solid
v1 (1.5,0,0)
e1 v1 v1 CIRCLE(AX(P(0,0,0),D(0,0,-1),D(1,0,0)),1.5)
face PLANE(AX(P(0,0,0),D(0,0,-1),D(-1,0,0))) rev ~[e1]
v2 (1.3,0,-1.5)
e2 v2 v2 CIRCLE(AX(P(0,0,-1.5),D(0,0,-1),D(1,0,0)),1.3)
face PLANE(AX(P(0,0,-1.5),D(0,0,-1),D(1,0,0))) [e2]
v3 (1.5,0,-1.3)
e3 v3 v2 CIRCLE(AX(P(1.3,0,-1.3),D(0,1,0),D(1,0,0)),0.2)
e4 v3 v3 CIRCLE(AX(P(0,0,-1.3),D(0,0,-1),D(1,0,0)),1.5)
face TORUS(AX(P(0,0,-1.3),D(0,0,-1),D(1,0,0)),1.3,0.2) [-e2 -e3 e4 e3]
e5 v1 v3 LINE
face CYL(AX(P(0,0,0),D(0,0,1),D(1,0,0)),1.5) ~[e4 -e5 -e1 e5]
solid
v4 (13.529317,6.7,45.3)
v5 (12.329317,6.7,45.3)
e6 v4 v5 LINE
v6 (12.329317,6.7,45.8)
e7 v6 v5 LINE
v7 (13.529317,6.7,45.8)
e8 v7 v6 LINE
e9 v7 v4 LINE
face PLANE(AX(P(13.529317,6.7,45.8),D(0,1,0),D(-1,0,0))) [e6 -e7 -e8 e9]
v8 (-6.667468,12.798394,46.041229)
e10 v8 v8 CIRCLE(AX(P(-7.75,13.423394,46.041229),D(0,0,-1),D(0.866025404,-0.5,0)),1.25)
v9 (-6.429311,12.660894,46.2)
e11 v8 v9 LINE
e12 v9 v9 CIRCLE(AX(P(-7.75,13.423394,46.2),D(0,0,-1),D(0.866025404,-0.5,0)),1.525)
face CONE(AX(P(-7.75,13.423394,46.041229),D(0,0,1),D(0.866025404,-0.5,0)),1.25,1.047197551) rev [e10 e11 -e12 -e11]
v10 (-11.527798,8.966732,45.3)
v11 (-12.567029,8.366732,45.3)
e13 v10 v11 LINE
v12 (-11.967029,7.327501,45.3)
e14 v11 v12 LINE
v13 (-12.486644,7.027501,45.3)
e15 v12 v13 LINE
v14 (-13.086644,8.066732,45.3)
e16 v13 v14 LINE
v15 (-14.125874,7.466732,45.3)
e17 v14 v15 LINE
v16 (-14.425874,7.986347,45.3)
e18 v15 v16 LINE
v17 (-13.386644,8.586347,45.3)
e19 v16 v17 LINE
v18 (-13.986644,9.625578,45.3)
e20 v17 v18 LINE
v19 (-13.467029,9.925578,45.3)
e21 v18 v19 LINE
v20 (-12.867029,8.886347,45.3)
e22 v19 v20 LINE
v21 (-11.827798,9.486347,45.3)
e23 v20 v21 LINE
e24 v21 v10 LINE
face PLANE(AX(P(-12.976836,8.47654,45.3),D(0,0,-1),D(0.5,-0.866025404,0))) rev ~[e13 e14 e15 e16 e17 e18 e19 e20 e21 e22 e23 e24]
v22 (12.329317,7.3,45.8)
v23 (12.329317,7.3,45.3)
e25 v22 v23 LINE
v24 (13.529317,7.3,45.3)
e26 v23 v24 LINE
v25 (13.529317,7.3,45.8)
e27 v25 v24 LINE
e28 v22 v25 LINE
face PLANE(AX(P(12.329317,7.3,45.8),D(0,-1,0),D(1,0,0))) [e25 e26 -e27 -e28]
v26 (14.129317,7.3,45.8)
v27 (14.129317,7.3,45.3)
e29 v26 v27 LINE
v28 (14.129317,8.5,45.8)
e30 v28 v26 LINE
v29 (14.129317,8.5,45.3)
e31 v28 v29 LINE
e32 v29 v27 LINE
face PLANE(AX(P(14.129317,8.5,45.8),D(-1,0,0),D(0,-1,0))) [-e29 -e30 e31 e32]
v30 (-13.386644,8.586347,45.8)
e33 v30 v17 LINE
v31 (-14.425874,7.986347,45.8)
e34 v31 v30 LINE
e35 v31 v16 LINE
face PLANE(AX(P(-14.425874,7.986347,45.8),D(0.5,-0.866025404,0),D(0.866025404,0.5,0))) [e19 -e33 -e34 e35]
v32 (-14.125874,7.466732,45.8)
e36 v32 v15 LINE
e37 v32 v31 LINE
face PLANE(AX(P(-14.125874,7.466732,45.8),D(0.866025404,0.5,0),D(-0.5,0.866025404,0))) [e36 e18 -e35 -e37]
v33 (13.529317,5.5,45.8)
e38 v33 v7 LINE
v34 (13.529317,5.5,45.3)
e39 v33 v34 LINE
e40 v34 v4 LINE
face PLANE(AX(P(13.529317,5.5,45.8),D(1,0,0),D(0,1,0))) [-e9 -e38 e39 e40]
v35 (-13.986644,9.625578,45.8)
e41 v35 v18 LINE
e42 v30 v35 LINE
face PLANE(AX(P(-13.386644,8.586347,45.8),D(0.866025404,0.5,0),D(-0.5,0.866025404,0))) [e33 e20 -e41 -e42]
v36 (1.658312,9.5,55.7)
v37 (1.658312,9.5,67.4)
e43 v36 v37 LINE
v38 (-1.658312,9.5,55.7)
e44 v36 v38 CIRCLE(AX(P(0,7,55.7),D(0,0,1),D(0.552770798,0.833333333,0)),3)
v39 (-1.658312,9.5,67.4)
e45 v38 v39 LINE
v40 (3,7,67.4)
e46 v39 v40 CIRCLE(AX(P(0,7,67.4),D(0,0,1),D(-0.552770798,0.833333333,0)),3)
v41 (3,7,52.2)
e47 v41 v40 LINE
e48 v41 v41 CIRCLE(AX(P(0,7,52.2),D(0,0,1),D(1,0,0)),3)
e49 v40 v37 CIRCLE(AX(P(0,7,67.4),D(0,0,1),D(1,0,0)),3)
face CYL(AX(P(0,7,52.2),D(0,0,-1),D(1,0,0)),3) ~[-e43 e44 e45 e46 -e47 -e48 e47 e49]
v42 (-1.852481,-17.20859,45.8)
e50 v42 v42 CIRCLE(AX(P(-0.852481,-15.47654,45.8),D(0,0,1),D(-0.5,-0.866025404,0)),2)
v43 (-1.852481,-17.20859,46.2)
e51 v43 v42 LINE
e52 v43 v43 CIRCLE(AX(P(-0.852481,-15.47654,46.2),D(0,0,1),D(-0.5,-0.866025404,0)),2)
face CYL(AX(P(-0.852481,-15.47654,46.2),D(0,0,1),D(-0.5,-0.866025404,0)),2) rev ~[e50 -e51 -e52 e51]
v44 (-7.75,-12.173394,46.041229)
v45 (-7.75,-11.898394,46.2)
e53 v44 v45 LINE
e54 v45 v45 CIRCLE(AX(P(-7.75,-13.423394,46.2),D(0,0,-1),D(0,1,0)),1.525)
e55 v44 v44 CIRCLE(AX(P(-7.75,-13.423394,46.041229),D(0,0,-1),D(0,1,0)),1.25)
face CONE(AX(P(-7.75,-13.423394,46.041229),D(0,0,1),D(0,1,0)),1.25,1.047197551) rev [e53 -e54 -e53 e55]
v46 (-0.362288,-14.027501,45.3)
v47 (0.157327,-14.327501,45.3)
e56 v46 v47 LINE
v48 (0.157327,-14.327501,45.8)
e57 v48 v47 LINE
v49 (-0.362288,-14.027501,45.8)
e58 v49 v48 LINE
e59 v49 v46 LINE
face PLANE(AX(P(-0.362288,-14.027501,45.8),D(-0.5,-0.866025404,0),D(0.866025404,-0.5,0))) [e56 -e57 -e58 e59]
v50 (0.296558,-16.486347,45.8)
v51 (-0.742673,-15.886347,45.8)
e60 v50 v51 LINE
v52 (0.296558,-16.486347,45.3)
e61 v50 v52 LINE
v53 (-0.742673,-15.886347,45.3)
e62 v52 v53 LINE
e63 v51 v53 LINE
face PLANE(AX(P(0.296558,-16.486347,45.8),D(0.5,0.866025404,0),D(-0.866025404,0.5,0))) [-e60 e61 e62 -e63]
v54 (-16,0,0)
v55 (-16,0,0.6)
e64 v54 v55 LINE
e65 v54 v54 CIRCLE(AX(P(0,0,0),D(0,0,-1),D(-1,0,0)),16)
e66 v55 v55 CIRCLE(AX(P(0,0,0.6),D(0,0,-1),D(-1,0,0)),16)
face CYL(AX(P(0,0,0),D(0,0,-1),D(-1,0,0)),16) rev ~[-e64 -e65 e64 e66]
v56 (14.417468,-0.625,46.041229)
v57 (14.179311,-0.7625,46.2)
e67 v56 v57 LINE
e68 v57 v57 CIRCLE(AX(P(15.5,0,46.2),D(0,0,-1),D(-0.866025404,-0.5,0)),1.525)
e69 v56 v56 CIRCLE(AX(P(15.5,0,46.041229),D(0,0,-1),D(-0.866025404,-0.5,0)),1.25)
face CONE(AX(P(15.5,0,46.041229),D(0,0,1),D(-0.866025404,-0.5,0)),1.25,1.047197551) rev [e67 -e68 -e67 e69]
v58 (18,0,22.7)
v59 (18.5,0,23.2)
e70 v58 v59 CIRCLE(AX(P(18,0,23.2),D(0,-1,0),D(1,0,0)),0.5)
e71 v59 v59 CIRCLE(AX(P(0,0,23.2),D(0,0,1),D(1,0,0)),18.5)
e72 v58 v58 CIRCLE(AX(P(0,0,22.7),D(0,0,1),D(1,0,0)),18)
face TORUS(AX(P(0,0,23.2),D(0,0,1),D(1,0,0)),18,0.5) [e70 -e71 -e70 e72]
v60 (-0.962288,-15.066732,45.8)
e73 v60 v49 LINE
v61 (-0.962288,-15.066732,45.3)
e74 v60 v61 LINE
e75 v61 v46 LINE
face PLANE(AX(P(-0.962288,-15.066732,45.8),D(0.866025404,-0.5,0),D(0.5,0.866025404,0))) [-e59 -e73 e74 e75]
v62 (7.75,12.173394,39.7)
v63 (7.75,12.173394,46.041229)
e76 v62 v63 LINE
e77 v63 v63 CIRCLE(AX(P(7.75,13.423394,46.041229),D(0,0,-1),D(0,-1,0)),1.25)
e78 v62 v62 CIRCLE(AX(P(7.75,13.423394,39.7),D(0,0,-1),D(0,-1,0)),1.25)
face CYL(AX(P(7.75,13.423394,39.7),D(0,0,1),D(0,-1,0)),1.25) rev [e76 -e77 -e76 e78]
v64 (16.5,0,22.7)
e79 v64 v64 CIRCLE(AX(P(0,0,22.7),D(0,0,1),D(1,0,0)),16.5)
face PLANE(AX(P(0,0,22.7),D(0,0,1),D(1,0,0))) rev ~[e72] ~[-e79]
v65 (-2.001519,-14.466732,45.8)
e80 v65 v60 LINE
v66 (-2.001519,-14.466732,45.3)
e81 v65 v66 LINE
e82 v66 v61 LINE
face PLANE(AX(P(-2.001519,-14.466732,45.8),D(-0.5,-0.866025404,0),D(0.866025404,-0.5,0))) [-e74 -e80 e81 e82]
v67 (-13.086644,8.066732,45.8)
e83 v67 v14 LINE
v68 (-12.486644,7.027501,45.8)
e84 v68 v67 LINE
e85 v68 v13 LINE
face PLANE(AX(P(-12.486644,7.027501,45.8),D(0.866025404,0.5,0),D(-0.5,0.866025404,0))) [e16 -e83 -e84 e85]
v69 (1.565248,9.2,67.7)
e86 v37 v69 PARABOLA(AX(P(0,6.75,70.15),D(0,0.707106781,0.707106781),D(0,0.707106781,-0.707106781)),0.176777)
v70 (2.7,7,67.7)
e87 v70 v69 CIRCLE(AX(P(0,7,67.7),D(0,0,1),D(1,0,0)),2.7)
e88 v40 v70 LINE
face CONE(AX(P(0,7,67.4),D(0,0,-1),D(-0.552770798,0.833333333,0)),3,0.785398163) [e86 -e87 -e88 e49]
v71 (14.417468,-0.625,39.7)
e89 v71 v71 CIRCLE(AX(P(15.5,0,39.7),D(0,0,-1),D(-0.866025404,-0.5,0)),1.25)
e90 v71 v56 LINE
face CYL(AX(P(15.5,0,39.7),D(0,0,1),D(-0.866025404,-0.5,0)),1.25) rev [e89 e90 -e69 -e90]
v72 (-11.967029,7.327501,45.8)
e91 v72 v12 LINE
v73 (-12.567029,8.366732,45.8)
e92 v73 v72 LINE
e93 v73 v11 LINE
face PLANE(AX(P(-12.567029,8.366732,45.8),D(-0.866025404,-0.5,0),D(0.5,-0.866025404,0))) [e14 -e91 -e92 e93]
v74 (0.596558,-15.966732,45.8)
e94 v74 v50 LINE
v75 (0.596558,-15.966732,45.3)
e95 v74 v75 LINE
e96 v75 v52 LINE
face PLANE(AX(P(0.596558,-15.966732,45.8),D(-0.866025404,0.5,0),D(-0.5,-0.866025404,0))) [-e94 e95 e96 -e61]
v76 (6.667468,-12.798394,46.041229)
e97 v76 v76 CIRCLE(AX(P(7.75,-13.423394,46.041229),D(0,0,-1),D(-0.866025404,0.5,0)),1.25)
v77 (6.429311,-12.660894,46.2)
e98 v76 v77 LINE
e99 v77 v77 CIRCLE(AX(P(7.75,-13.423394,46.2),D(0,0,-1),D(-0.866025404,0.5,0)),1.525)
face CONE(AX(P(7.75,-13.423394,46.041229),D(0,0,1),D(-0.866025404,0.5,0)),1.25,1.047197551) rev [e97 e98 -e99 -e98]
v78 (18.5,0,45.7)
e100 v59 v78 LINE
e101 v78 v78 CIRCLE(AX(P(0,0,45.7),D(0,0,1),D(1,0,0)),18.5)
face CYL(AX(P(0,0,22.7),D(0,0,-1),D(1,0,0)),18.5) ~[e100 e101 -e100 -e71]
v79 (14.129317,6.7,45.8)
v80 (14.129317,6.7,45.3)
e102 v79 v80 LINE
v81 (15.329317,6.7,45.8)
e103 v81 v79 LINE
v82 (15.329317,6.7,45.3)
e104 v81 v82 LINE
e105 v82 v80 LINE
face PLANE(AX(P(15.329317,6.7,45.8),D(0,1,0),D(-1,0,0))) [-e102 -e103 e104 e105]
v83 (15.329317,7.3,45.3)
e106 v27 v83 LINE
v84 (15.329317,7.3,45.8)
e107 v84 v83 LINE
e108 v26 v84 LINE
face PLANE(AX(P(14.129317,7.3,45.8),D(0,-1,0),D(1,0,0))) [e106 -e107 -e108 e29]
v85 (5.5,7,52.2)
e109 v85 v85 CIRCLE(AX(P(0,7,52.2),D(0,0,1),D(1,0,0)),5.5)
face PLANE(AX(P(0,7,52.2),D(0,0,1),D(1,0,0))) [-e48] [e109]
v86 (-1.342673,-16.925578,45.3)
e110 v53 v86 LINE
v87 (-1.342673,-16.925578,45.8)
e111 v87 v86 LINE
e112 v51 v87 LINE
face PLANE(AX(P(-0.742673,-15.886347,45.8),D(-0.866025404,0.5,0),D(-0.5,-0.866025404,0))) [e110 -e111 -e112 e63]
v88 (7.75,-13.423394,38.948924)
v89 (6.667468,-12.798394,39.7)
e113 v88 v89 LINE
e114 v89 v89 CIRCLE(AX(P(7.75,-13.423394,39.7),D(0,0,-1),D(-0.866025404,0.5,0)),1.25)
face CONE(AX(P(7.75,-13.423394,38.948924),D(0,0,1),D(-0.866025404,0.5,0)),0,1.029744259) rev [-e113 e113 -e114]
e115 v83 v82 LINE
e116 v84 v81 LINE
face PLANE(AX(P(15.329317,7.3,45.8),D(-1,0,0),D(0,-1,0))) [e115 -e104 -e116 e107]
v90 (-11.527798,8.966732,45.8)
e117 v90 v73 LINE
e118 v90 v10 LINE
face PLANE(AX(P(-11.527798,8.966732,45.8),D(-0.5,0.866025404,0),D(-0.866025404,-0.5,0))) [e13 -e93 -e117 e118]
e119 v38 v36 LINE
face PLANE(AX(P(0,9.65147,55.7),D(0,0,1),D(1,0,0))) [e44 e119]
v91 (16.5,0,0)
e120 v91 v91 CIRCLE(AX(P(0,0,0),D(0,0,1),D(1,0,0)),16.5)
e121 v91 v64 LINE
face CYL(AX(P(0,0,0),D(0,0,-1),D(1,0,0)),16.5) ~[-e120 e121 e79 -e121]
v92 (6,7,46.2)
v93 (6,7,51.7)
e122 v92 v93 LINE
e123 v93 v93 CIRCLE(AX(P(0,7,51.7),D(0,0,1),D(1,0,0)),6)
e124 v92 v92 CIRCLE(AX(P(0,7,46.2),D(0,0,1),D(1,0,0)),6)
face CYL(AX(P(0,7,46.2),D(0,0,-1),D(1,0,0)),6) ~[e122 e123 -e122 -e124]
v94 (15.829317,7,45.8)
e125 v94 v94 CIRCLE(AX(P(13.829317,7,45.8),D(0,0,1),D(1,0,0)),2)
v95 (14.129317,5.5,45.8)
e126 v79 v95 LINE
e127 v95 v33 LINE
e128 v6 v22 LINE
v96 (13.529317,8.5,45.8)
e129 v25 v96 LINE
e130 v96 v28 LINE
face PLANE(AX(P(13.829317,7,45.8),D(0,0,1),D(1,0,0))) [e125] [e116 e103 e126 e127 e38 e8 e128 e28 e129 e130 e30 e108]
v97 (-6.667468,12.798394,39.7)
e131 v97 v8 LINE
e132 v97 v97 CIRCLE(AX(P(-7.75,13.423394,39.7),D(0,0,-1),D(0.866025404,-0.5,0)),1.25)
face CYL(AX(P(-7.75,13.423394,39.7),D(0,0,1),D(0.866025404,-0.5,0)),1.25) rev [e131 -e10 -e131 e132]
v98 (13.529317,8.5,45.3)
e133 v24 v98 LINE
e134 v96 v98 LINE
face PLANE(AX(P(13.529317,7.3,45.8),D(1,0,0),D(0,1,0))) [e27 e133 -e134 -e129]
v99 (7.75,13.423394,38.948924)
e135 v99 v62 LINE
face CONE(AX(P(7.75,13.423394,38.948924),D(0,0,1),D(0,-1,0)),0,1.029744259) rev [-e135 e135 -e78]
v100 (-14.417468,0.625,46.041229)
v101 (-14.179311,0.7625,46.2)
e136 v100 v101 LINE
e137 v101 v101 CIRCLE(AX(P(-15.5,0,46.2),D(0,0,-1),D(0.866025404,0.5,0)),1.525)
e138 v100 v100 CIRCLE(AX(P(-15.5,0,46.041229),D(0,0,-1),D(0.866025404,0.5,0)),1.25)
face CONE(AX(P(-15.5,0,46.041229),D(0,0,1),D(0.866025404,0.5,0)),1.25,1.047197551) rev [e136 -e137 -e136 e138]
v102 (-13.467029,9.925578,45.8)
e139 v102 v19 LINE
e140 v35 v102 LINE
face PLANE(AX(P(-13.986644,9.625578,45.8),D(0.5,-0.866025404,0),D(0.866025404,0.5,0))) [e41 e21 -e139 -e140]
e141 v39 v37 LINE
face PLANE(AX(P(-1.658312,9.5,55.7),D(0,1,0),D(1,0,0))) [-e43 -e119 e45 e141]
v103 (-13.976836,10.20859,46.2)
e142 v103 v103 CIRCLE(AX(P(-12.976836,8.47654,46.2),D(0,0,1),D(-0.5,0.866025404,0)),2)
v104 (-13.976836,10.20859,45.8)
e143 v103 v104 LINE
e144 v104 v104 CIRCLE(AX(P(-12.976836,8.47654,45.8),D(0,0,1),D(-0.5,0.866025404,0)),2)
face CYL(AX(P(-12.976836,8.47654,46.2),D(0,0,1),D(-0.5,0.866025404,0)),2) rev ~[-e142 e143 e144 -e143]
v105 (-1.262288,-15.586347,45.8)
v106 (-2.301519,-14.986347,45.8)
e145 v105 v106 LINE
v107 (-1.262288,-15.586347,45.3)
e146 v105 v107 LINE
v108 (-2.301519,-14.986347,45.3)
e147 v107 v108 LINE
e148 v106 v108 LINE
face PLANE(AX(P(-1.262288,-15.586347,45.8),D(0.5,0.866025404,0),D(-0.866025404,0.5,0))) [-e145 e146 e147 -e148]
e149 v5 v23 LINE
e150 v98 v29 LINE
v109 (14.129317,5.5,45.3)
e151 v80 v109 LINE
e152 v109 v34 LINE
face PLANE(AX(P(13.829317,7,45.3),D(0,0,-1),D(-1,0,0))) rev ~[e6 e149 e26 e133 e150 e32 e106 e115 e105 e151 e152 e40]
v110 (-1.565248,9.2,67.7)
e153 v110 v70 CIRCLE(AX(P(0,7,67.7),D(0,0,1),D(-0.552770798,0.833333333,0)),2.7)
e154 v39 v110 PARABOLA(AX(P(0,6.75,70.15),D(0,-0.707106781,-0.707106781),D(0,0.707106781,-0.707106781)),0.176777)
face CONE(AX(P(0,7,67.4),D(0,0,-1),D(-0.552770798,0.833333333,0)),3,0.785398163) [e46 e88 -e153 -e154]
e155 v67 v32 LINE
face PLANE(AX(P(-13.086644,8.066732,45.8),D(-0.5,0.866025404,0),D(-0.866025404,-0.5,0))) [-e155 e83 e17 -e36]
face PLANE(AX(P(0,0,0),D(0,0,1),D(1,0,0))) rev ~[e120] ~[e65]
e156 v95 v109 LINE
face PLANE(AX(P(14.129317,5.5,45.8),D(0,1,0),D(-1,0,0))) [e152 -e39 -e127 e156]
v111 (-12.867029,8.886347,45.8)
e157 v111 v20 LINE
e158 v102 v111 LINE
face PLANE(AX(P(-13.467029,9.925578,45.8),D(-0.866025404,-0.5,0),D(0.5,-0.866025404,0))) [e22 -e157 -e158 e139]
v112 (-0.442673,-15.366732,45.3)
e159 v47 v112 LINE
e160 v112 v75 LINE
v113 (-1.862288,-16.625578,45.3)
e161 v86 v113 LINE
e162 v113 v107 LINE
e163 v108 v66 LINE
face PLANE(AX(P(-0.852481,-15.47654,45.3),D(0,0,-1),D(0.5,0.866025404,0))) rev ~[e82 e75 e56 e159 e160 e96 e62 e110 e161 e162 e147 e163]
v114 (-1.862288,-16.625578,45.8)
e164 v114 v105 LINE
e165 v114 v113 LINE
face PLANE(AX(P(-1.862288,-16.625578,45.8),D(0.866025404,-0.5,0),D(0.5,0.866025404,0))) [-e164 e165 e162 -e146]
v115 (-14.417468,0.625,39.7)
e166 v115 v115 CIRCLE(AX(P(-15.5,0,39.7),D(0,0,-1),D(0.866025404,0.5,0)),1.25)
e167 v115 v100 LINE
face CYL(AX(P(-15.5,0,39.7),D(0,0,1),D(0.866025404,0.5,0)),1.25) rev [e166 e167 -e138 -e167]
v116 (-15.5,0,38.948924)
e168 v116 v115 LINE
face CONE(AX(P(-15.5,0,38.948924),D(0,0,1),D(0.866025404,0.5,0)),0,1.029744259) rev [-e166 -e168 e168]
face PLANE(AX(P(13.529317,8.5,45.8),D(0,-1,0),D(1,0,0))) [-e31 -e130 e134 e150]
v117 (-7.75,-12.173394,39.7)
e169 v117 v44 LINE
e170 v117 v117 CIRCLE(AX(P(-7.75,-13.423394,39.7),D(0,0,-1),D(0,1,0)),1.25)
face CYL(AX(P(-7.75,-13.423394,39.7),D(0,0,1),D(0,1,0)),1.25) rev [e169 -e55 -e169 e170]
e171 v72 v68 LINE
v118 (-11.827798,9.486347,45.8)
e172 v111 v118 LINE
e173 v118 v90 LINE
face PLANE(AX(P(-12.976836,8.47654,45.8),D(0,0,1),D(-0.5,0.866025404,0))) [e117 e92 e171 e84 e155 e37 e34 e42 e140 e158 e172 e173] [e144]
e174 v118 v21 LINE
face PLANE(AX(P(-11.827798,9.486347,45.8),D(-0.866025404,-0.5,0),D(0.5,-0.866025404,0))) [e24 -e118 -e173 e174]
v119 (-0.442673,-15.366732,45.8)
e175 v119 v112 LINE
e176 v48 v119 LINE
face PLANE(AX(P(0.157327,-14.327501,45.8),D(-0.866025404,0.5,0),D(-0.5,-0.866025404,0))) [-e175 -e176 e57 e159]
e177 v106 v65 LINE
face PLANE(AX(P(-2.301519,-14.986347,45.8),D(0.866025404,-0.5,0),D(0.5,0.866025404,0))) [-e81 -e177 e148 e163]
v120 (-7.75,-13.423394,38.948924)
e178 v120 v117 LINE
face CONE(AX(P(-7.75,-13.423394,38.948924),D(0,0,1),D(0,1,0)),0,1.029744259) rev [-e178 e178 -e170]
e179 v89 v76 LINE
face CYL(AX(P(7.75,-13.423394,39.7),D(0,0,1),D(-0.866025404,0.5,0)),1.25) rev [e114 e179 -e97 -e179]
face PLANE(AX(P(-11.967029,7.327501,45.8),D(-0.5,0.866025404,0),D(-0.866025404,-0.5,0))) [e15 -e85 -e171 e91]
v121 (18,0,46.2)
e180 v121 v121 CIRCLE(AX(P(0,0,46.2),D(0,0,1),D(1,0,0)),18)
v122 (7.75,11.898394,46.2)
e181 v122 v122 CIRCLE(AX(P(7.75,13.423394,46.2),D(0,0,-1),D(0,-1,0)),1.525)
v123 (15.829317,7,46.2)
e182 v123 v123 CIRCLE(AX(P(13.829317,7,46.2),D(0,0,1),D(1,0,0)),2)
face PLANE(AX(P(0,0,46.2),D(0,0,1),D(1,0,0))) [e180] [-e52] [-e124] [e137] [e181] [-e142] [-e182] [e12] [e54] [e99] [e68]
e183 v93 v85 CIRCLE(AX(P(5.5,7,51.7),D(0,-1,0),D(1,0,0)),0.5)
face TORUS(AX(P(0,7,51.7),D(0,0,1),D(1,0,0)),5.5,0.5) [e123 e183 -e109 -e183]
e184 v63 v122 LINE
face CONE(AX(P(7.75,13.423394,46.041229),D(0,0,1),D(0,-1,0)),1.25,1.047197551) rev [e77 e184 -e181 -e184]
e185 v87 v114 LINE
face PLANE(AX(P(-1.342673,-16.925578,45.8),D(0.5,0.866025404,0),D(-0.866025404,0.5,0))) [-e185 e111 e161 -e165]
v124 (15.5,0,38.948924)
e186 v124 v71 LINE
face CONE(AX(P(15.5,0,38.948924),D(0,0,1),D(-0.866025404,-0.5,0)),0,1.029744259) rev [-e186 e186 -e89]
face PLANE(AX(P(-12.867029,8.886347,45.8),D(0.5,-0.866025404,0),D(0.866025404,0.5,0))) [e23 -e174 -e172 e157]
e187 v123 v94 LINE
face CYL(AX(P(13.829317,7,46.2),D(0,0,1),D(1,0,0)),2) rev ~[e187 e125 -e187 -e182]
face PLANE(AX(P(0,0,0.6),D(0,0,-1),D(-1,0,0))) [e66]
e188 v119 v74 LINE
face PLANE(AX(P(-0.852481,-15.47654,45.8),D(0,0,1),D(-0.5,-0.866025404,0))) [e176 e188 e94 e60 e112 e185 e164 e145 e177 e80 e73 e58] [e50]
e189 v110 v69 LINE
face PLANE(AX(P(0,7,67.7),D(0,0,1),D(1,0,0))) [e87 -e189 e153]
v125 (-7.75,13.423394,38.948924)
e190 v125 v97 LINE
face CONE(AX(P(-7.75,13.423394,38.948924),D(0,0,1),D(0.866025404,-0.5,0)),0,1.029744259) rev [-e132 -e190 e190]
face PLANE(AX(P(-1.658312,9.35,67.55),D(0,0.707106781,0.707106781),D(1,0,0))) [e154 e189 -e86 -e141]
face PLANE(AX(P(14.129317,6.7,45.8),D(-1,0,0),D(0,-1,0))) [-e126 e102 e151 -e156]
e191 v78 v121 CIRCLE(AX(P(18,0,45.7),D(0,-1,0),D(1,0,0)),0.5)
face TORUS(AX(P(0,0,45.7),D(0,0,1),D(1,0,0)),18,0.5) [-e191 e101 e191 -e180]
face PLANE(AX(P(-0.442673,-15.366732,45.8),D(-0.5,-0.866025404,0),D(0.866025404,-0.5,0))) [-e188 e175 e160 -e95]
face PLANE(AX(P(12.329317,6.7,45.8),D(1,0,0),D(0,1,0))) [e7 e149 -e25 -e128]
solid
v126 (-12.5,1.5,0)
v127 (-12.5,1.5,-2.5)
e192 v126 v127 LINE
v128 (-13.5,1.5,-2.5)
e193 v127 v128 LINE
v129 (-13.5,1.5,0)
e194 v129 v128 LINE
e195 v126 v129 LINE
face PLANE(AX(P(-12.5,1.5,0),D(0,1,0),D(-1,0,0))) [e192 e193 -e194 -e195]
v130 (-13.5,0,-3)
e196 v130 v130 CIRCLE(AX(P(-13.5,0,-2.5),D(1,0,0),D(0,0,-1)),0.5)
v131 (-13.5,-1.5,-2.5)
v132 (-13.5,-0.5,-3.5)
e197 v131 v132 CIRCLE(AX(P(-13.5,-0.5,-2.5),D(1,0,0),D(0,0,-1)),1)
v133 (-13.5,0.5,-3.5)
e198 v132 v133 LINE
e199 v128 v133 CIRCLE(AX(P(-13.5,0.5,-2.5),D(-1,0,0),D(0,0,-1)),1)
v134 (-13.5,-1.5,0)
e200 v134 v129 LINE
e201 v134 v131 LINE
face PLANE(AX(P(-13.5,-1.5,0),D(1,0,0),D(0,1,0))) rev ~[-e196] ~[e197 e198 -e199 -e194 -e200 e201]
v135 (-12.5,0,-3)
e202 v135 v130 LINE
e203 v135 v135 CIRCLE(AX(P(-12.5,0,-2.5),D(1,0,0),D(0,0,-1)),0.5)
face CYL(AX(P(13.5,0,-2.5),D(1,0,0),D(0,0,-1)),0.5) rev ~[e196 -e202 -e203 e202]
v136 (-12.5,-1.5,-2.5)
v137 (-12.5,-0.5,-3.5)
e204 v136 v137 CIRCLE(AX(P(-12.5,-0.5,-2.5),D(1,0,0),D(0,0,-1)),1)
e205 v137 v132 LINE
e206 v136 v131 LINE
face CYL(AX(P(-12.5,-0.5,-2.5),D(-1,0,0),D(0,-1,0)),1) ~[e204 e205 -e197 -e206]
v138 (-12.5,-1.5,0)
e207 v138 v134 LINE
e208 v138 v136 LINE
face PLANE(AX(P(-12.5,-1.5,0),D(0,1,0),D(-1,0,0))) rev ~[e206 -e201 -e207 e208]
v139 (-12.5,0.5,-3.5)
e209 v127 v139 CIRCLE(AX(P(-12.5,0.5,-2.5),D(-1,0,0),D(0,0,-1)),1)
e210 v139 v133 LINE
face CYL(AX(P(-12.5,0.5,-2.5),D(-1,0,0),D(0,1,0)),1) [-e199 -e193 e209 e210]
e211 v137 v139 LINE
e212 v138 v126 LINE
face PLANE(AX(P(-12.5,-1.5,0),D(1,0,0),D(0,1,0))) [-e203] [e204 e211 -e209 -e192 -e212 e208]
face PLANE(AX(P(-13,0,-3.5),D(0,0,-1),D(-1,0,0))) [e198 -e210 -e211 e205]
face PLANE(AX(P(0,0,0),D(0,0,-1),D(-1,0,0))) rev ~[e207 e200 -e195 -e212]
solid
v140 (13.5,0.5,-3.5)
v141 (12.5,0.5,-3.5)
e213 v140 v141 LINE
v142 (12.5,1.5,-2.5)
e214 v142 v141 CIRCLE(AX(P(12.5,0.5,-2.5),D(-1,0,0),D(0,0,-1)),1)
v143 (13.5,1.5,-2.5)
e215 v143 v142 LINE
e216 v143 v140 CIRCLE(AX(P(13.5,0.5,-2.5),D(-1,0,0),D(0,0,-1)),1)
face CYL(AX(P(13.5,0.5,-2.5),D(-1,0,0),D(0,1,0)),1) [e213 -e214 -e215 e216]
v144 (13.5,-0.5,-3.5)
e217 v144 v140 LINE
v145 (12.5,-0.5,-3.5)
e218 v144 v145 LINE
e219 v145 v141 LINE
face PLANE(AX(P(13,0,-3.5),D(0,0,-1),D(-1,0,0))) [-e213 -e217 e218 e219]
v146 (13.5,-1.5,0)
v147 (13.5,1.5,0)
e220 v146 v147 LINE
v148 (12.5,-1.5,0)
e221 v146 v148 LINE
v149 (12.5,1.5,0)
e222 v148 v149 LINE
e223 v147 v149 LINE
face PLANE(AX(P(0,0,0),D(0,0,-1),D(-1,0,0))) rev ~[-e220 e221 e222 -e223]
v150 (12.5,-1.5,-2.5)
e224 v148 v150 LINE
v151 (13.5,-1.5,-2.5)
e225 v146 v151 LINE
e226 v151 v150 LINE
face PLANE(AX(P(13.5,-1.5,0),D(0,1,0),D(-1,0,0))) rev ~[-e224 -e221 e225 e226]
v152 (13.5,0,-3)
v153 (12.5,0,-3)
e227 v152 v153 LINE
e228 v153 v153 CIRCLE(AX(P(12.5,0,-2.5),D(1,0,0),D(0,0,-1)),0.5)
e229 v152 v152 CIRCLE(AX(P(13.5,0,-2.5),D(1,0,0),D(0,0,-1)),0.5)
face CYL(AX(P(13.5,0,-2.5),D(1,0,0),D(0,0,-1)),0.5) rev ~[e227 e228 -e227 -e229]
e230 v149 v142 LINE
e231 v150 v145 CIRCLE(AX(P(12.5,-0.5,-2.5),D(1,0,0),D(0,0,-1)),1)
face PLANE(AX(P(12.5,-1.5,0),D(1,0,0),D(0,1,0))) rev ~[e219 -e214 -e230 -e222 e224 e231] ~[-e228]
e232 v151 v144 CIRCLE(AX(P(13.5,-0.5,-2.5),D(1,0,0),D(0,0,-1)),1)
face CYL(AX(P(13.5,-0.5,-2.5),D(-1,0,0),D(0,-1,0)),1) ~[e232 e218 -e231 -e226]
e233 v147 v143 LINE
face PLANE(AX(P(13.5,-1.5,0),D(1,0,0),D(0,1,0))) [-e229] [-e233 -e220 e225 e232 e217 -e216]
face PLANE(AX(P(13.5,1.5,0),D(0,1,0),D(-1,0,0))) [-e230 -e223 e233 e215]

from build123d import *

# Parameters (mm, degrees)
SKETCH_1_R               = 16.5
EXTRUDE_1_DEPTH          = 22.7
SKETCH_2_R               = 18.5
EXTRUDE_2_DEPTH          = 23.5
SKETCH_3_R               = 6
EXTRUDE_3_DEPTH          = 6
SKETCH_4_R               = 3
EXTRUDE_4_DEPTH          = 15.5
CUT_EXTRUDE_START        = -12
CUT_EXTRUDE_1_DEPTH      = 12
SKETCH_6_W               = 1
SKETCH_6_H               = 3
EXTRUDE_5_DEPTH          = 3.5
SKETCH_7_R               = 1.5
EXTRUDE_6_DEPTH          = 1.5
SKETCH_8_R               = 0.5
CUT_EXTRUDE_2_DEPTH      = 78.133261308
FILLET_5_R               = 1
PATTERN_CIRCULAR_1_COUNT = 6
SKETCH_15_R              = 2
CUT_EXTRUDE_3_DEPTH      = 0.4
CUT_EXTRUDE_4_DEPTH      = 0.5
PATTERN_CIRCULAR_2_COUNT = 3
FILLET_6_R               = 0.5
SKETCH_18_R              = 16
CUT_EXTRUDE_5_DEPTH      = 0.6
FILLET_7_R               = 0.2
CHAMFER_1_SIZE           = 0.3


with BuildPart() as part:
    # 草图1 → 凸台-拉伸1 (new body)
    with BuildSketch(Plane.XY):
        Circle(SKETCH_1_R)
    extrude(amount=EXTRUDE_1_DEPTH)

    # 草图2 → 凸台-拉伸2 (add)
    with BuildSketch(Plane.XY.offset(22.7)):
        Circle(SKETCH_2_R)
    extrude(amount=EXTRUDE_2_DEPTH)

    # 草图3 → 凸台-拉伸3 (add)
    with BuildSketch(Plane.XY.offset(46.2)):
        with Locations((0, 7)):
            Circle(SKETCH_3_R)
    extrude(amount=EXTRUDE_3_DEPTH)

    # 草图4 → 凸台-拉伸4 (add)
    with BuildSketch(Plane.XY.offset(52.2)):
        with Locations((0, 7)):
            Circle(SKETCH_4_R)
    extrude(amount=EXTRUDE_4_DEPTH)

    # 草图5 → 切除-拉伸1 (cut)
    with BuildSketch(Plane.XY.offset(67.7).offset(CUT_EXTRUDE_START)):
        with BuildLine():
            Line((-1.658312395, 9.5), (1.658312395, 9.5))
            ThreePointArc((1.658312395, 9.5), (0, 10), (-1.658312395, 9.5))
        make_face()
    extrude(amount=CUT_EXTRUDE_1_DEPTH, mode=Mode.SUBTRACT)

    # 草图6 → 凸台-拉伸5 (add)
    with BuildSketch(Plane(origin=(0, 0, 0), x_dir=(-1, 0, 0), z_dir=(0, 0, -1))):
        with Locations((-13, 0)):
            Rectangle(SKETCH_6_W, SKETCH_6_H)
        with Locations((13, 0)):
            Rectangle(SKETCH_6_W, SKETCH_6_H)
    extrude(amount=EXTRUDE_5_DEPTH)

    # 草图7 → 凸台-拉伸6 (add)
    with BuildSketch(Plane(origin=(0, 0, 0), x_dir=(-1, 0, 0), z_dir=(0, 0, -1))):
        Circle(SKETCH_7_R)
    extrude(amount=EXTRUDE_6_DEPTH)

    # 草图8 → 切除-拉伸2 (cut, through all)
    with BuildSketch(Plane(origin=(13.5, 0, 0), x_dir=(0, 0, -1), z_dir=(1, 0, 0))):
        with Locations((2.5, 0)):
            Circle(SKETCH_8_R)
    extrude(amount=-CUT_EXTRUDE_2_DEPTH, mode=Mode.SUBTRACT)

    # 圆角5
    fillet_5_edges = [part.edges().sort_by_distance(p)[0] for p in [
        (-13, 1.5, -3.5),
        (-13, -1.5, -3.5),
        (13, 1.5, -3.5),
        (13, -1.5, -3.5),
    ]]
    fillet(fillet_5_edges, radius=FILLET_5_R)

    # 草图13 → M3 螺纹孔3 (revolve, cut)
    with BuildSketch(Plane(origin=(7.75, 13.423393759, 46.2), x_dir=(0, -1, 0), z_dir=(1, 0, 0))):
        Polygon((0, 0), (0, 7.251075774), (1.25, 6.5), (1.25, 0.158771324), (1.525, 0), align=None)
    hole_wizard_m3_3 = revolve(axis=Axis((7.75, 13.423393759, 52.55), (0, 0, -1)), mode=Mode.SUBTRACT)

    # 阵列(圆周)1: M3 螺纹孔3 ×6 about axis
    pattern_circular_1_axis = Axis((0, 0, -7.35), (0, 0, 1))
    for i in range(1, PATTERN_CIRCULAR_1_COUNT):
        add(hole_wizard_m3_3.rotate(pattern_circular_1_axis, i * 360 / PATTERN_CIRCULAR_1_COUNT), mode=Mode.SUBTRACT)

    # 草图15 → 切除-拉伸3 (cut)
    with BuildSketch(Plane.XY.offset(46.2)):
        with Locations((13.829316686, 7)):
            Circle(SKETCH_15_R)
    cut_extrude_3 = extrude(amount=-CUT_EXTRUDE_3_DEPTH, mode=Mode.SUBTRACT)

    # 草图17 → 切除-拉伸4 (cut)
    with BuildSketch(Plane.XY.offset(45.8)):
        Polygon((13.529316686, 5.5), (13.529316686, 6.7), (12.329316686, 6.7), (12.329316686, 7.3), (13.529316686, 7.3), (13.529316686, 8.5), (14.129316686, 8.5), (14.129316686, 7.3), (15.329316686, 7.3), (15.329316686, 6.7), (14.129316686, 6.7), (14.129316686, 5.5), align=None)
    cut_extrude_4 = extrude(amount=-CUT_EXTRUDE_4_DEPTH, mode=Mode.SUBTRACT)

    # 阵列(圆周)2: 切除-拉伸3, 切除-拉伸4 ×3 about axis
    pattern_circular_2_axis = Axis((0, 0, -7.35), (0, 0, 1))
    add([cut_extrude_3.rotate(pattern_circular_2_axis, i * 360 / PATTERN_CIRCULAR_2_COUNT) for i in range(1, PATTERN_CIRCULAR_2_COUNT)], mode=Mode.SUBTRACT)
    add([cut_extrude_4.rotate(pattern_circular_2_axis, i * 360 / PATTERN_CIRCULAR_2_COUNT) for i in range(1, PATTERN_CIRCULAR_2_COUNT)], mode=Mode.SUBTRACT)

    # 圆角6
    fillet_6_edges = [part.edges().sort_by_distance(p)[0] for p in [
        (-6, 7, 52.2),
        (-18.5, 0, 46.2),
        (-18.5, 0, 22.7),
    ]]
    fillet(fillet_6_edges, radius=FILLET_6_R)

    # 草图18 → 切除-拉伸5 (cut)
    with BuildSketch(Plane(origin=(0, 0, 0), x_dir=(-1, 0, 0), z_dir=(0, 0, -1))):
        Circle(SKETCH_18_R)
    extrude(amount=-CUT_EXTRUDE_5_DEPTH, mode=Mode.SUBTRACT)


with BuildPart() as cut_extrude_5_piece_1:
    # of the separate pieces the step leaves, piece 1, a body of its own (cut_extrude_5_pieces)
    add(part.part.solids().sort_by_distance((18, 0, 22.7))[0])

    # 倒角1
    chamfer_1_edges = [cut_extrude_5_piece_1.edges().sort_by_distance(p)[0] for p in [
        (0, 9.5, 67.7),
        (-1.418637165, 4.356617963, 67.7),
    ]]
    chamfer(chamfer_1_edges, length=CHAMFER_1_SIZE)


with BuildPart() as cut_extrude_5_piece_2:
    # of the separate pieces the step leaves, piece 2, a body of its own (cut_extrude_5_pieces)
    add(part.part.solids().sort_by_distance((-1.5, 0, 0))[0])

    # 圆角7
    fillet_7_edges = [cut_extrude_5_piece_2.edges().sort_by_distance(p)[0] for p in [
        (1.5, 0, -1.5),
    ]]
    fillet(fillet_7_edges, radius=FILLET_7_R)


with BuildPart() as cut_extrude_5_piece_3:
    # of the separate pieces the step leaves, piece 3, a body of its own (cut_extrude_5_pieces)
    add(part.part.solids().sort_by_distance((13.5, 1.5, -2.5))[0])


with BuildPart() as cut_extrude_5_piece_4:
    # of the separate pieces the step leaves, piece 4, a body of its own (cut_extrude_5_pieces)
    add(part.part.solids().sort_by_distance((-13.5, 1.5, -2.5))[0])


solid = Compound([cut_extrude_5_piece_1.part, cut_extrude_5_piece_2.part, cut_extrude_5_piece_3.part, cut_extrude_5_piece_4.part])
